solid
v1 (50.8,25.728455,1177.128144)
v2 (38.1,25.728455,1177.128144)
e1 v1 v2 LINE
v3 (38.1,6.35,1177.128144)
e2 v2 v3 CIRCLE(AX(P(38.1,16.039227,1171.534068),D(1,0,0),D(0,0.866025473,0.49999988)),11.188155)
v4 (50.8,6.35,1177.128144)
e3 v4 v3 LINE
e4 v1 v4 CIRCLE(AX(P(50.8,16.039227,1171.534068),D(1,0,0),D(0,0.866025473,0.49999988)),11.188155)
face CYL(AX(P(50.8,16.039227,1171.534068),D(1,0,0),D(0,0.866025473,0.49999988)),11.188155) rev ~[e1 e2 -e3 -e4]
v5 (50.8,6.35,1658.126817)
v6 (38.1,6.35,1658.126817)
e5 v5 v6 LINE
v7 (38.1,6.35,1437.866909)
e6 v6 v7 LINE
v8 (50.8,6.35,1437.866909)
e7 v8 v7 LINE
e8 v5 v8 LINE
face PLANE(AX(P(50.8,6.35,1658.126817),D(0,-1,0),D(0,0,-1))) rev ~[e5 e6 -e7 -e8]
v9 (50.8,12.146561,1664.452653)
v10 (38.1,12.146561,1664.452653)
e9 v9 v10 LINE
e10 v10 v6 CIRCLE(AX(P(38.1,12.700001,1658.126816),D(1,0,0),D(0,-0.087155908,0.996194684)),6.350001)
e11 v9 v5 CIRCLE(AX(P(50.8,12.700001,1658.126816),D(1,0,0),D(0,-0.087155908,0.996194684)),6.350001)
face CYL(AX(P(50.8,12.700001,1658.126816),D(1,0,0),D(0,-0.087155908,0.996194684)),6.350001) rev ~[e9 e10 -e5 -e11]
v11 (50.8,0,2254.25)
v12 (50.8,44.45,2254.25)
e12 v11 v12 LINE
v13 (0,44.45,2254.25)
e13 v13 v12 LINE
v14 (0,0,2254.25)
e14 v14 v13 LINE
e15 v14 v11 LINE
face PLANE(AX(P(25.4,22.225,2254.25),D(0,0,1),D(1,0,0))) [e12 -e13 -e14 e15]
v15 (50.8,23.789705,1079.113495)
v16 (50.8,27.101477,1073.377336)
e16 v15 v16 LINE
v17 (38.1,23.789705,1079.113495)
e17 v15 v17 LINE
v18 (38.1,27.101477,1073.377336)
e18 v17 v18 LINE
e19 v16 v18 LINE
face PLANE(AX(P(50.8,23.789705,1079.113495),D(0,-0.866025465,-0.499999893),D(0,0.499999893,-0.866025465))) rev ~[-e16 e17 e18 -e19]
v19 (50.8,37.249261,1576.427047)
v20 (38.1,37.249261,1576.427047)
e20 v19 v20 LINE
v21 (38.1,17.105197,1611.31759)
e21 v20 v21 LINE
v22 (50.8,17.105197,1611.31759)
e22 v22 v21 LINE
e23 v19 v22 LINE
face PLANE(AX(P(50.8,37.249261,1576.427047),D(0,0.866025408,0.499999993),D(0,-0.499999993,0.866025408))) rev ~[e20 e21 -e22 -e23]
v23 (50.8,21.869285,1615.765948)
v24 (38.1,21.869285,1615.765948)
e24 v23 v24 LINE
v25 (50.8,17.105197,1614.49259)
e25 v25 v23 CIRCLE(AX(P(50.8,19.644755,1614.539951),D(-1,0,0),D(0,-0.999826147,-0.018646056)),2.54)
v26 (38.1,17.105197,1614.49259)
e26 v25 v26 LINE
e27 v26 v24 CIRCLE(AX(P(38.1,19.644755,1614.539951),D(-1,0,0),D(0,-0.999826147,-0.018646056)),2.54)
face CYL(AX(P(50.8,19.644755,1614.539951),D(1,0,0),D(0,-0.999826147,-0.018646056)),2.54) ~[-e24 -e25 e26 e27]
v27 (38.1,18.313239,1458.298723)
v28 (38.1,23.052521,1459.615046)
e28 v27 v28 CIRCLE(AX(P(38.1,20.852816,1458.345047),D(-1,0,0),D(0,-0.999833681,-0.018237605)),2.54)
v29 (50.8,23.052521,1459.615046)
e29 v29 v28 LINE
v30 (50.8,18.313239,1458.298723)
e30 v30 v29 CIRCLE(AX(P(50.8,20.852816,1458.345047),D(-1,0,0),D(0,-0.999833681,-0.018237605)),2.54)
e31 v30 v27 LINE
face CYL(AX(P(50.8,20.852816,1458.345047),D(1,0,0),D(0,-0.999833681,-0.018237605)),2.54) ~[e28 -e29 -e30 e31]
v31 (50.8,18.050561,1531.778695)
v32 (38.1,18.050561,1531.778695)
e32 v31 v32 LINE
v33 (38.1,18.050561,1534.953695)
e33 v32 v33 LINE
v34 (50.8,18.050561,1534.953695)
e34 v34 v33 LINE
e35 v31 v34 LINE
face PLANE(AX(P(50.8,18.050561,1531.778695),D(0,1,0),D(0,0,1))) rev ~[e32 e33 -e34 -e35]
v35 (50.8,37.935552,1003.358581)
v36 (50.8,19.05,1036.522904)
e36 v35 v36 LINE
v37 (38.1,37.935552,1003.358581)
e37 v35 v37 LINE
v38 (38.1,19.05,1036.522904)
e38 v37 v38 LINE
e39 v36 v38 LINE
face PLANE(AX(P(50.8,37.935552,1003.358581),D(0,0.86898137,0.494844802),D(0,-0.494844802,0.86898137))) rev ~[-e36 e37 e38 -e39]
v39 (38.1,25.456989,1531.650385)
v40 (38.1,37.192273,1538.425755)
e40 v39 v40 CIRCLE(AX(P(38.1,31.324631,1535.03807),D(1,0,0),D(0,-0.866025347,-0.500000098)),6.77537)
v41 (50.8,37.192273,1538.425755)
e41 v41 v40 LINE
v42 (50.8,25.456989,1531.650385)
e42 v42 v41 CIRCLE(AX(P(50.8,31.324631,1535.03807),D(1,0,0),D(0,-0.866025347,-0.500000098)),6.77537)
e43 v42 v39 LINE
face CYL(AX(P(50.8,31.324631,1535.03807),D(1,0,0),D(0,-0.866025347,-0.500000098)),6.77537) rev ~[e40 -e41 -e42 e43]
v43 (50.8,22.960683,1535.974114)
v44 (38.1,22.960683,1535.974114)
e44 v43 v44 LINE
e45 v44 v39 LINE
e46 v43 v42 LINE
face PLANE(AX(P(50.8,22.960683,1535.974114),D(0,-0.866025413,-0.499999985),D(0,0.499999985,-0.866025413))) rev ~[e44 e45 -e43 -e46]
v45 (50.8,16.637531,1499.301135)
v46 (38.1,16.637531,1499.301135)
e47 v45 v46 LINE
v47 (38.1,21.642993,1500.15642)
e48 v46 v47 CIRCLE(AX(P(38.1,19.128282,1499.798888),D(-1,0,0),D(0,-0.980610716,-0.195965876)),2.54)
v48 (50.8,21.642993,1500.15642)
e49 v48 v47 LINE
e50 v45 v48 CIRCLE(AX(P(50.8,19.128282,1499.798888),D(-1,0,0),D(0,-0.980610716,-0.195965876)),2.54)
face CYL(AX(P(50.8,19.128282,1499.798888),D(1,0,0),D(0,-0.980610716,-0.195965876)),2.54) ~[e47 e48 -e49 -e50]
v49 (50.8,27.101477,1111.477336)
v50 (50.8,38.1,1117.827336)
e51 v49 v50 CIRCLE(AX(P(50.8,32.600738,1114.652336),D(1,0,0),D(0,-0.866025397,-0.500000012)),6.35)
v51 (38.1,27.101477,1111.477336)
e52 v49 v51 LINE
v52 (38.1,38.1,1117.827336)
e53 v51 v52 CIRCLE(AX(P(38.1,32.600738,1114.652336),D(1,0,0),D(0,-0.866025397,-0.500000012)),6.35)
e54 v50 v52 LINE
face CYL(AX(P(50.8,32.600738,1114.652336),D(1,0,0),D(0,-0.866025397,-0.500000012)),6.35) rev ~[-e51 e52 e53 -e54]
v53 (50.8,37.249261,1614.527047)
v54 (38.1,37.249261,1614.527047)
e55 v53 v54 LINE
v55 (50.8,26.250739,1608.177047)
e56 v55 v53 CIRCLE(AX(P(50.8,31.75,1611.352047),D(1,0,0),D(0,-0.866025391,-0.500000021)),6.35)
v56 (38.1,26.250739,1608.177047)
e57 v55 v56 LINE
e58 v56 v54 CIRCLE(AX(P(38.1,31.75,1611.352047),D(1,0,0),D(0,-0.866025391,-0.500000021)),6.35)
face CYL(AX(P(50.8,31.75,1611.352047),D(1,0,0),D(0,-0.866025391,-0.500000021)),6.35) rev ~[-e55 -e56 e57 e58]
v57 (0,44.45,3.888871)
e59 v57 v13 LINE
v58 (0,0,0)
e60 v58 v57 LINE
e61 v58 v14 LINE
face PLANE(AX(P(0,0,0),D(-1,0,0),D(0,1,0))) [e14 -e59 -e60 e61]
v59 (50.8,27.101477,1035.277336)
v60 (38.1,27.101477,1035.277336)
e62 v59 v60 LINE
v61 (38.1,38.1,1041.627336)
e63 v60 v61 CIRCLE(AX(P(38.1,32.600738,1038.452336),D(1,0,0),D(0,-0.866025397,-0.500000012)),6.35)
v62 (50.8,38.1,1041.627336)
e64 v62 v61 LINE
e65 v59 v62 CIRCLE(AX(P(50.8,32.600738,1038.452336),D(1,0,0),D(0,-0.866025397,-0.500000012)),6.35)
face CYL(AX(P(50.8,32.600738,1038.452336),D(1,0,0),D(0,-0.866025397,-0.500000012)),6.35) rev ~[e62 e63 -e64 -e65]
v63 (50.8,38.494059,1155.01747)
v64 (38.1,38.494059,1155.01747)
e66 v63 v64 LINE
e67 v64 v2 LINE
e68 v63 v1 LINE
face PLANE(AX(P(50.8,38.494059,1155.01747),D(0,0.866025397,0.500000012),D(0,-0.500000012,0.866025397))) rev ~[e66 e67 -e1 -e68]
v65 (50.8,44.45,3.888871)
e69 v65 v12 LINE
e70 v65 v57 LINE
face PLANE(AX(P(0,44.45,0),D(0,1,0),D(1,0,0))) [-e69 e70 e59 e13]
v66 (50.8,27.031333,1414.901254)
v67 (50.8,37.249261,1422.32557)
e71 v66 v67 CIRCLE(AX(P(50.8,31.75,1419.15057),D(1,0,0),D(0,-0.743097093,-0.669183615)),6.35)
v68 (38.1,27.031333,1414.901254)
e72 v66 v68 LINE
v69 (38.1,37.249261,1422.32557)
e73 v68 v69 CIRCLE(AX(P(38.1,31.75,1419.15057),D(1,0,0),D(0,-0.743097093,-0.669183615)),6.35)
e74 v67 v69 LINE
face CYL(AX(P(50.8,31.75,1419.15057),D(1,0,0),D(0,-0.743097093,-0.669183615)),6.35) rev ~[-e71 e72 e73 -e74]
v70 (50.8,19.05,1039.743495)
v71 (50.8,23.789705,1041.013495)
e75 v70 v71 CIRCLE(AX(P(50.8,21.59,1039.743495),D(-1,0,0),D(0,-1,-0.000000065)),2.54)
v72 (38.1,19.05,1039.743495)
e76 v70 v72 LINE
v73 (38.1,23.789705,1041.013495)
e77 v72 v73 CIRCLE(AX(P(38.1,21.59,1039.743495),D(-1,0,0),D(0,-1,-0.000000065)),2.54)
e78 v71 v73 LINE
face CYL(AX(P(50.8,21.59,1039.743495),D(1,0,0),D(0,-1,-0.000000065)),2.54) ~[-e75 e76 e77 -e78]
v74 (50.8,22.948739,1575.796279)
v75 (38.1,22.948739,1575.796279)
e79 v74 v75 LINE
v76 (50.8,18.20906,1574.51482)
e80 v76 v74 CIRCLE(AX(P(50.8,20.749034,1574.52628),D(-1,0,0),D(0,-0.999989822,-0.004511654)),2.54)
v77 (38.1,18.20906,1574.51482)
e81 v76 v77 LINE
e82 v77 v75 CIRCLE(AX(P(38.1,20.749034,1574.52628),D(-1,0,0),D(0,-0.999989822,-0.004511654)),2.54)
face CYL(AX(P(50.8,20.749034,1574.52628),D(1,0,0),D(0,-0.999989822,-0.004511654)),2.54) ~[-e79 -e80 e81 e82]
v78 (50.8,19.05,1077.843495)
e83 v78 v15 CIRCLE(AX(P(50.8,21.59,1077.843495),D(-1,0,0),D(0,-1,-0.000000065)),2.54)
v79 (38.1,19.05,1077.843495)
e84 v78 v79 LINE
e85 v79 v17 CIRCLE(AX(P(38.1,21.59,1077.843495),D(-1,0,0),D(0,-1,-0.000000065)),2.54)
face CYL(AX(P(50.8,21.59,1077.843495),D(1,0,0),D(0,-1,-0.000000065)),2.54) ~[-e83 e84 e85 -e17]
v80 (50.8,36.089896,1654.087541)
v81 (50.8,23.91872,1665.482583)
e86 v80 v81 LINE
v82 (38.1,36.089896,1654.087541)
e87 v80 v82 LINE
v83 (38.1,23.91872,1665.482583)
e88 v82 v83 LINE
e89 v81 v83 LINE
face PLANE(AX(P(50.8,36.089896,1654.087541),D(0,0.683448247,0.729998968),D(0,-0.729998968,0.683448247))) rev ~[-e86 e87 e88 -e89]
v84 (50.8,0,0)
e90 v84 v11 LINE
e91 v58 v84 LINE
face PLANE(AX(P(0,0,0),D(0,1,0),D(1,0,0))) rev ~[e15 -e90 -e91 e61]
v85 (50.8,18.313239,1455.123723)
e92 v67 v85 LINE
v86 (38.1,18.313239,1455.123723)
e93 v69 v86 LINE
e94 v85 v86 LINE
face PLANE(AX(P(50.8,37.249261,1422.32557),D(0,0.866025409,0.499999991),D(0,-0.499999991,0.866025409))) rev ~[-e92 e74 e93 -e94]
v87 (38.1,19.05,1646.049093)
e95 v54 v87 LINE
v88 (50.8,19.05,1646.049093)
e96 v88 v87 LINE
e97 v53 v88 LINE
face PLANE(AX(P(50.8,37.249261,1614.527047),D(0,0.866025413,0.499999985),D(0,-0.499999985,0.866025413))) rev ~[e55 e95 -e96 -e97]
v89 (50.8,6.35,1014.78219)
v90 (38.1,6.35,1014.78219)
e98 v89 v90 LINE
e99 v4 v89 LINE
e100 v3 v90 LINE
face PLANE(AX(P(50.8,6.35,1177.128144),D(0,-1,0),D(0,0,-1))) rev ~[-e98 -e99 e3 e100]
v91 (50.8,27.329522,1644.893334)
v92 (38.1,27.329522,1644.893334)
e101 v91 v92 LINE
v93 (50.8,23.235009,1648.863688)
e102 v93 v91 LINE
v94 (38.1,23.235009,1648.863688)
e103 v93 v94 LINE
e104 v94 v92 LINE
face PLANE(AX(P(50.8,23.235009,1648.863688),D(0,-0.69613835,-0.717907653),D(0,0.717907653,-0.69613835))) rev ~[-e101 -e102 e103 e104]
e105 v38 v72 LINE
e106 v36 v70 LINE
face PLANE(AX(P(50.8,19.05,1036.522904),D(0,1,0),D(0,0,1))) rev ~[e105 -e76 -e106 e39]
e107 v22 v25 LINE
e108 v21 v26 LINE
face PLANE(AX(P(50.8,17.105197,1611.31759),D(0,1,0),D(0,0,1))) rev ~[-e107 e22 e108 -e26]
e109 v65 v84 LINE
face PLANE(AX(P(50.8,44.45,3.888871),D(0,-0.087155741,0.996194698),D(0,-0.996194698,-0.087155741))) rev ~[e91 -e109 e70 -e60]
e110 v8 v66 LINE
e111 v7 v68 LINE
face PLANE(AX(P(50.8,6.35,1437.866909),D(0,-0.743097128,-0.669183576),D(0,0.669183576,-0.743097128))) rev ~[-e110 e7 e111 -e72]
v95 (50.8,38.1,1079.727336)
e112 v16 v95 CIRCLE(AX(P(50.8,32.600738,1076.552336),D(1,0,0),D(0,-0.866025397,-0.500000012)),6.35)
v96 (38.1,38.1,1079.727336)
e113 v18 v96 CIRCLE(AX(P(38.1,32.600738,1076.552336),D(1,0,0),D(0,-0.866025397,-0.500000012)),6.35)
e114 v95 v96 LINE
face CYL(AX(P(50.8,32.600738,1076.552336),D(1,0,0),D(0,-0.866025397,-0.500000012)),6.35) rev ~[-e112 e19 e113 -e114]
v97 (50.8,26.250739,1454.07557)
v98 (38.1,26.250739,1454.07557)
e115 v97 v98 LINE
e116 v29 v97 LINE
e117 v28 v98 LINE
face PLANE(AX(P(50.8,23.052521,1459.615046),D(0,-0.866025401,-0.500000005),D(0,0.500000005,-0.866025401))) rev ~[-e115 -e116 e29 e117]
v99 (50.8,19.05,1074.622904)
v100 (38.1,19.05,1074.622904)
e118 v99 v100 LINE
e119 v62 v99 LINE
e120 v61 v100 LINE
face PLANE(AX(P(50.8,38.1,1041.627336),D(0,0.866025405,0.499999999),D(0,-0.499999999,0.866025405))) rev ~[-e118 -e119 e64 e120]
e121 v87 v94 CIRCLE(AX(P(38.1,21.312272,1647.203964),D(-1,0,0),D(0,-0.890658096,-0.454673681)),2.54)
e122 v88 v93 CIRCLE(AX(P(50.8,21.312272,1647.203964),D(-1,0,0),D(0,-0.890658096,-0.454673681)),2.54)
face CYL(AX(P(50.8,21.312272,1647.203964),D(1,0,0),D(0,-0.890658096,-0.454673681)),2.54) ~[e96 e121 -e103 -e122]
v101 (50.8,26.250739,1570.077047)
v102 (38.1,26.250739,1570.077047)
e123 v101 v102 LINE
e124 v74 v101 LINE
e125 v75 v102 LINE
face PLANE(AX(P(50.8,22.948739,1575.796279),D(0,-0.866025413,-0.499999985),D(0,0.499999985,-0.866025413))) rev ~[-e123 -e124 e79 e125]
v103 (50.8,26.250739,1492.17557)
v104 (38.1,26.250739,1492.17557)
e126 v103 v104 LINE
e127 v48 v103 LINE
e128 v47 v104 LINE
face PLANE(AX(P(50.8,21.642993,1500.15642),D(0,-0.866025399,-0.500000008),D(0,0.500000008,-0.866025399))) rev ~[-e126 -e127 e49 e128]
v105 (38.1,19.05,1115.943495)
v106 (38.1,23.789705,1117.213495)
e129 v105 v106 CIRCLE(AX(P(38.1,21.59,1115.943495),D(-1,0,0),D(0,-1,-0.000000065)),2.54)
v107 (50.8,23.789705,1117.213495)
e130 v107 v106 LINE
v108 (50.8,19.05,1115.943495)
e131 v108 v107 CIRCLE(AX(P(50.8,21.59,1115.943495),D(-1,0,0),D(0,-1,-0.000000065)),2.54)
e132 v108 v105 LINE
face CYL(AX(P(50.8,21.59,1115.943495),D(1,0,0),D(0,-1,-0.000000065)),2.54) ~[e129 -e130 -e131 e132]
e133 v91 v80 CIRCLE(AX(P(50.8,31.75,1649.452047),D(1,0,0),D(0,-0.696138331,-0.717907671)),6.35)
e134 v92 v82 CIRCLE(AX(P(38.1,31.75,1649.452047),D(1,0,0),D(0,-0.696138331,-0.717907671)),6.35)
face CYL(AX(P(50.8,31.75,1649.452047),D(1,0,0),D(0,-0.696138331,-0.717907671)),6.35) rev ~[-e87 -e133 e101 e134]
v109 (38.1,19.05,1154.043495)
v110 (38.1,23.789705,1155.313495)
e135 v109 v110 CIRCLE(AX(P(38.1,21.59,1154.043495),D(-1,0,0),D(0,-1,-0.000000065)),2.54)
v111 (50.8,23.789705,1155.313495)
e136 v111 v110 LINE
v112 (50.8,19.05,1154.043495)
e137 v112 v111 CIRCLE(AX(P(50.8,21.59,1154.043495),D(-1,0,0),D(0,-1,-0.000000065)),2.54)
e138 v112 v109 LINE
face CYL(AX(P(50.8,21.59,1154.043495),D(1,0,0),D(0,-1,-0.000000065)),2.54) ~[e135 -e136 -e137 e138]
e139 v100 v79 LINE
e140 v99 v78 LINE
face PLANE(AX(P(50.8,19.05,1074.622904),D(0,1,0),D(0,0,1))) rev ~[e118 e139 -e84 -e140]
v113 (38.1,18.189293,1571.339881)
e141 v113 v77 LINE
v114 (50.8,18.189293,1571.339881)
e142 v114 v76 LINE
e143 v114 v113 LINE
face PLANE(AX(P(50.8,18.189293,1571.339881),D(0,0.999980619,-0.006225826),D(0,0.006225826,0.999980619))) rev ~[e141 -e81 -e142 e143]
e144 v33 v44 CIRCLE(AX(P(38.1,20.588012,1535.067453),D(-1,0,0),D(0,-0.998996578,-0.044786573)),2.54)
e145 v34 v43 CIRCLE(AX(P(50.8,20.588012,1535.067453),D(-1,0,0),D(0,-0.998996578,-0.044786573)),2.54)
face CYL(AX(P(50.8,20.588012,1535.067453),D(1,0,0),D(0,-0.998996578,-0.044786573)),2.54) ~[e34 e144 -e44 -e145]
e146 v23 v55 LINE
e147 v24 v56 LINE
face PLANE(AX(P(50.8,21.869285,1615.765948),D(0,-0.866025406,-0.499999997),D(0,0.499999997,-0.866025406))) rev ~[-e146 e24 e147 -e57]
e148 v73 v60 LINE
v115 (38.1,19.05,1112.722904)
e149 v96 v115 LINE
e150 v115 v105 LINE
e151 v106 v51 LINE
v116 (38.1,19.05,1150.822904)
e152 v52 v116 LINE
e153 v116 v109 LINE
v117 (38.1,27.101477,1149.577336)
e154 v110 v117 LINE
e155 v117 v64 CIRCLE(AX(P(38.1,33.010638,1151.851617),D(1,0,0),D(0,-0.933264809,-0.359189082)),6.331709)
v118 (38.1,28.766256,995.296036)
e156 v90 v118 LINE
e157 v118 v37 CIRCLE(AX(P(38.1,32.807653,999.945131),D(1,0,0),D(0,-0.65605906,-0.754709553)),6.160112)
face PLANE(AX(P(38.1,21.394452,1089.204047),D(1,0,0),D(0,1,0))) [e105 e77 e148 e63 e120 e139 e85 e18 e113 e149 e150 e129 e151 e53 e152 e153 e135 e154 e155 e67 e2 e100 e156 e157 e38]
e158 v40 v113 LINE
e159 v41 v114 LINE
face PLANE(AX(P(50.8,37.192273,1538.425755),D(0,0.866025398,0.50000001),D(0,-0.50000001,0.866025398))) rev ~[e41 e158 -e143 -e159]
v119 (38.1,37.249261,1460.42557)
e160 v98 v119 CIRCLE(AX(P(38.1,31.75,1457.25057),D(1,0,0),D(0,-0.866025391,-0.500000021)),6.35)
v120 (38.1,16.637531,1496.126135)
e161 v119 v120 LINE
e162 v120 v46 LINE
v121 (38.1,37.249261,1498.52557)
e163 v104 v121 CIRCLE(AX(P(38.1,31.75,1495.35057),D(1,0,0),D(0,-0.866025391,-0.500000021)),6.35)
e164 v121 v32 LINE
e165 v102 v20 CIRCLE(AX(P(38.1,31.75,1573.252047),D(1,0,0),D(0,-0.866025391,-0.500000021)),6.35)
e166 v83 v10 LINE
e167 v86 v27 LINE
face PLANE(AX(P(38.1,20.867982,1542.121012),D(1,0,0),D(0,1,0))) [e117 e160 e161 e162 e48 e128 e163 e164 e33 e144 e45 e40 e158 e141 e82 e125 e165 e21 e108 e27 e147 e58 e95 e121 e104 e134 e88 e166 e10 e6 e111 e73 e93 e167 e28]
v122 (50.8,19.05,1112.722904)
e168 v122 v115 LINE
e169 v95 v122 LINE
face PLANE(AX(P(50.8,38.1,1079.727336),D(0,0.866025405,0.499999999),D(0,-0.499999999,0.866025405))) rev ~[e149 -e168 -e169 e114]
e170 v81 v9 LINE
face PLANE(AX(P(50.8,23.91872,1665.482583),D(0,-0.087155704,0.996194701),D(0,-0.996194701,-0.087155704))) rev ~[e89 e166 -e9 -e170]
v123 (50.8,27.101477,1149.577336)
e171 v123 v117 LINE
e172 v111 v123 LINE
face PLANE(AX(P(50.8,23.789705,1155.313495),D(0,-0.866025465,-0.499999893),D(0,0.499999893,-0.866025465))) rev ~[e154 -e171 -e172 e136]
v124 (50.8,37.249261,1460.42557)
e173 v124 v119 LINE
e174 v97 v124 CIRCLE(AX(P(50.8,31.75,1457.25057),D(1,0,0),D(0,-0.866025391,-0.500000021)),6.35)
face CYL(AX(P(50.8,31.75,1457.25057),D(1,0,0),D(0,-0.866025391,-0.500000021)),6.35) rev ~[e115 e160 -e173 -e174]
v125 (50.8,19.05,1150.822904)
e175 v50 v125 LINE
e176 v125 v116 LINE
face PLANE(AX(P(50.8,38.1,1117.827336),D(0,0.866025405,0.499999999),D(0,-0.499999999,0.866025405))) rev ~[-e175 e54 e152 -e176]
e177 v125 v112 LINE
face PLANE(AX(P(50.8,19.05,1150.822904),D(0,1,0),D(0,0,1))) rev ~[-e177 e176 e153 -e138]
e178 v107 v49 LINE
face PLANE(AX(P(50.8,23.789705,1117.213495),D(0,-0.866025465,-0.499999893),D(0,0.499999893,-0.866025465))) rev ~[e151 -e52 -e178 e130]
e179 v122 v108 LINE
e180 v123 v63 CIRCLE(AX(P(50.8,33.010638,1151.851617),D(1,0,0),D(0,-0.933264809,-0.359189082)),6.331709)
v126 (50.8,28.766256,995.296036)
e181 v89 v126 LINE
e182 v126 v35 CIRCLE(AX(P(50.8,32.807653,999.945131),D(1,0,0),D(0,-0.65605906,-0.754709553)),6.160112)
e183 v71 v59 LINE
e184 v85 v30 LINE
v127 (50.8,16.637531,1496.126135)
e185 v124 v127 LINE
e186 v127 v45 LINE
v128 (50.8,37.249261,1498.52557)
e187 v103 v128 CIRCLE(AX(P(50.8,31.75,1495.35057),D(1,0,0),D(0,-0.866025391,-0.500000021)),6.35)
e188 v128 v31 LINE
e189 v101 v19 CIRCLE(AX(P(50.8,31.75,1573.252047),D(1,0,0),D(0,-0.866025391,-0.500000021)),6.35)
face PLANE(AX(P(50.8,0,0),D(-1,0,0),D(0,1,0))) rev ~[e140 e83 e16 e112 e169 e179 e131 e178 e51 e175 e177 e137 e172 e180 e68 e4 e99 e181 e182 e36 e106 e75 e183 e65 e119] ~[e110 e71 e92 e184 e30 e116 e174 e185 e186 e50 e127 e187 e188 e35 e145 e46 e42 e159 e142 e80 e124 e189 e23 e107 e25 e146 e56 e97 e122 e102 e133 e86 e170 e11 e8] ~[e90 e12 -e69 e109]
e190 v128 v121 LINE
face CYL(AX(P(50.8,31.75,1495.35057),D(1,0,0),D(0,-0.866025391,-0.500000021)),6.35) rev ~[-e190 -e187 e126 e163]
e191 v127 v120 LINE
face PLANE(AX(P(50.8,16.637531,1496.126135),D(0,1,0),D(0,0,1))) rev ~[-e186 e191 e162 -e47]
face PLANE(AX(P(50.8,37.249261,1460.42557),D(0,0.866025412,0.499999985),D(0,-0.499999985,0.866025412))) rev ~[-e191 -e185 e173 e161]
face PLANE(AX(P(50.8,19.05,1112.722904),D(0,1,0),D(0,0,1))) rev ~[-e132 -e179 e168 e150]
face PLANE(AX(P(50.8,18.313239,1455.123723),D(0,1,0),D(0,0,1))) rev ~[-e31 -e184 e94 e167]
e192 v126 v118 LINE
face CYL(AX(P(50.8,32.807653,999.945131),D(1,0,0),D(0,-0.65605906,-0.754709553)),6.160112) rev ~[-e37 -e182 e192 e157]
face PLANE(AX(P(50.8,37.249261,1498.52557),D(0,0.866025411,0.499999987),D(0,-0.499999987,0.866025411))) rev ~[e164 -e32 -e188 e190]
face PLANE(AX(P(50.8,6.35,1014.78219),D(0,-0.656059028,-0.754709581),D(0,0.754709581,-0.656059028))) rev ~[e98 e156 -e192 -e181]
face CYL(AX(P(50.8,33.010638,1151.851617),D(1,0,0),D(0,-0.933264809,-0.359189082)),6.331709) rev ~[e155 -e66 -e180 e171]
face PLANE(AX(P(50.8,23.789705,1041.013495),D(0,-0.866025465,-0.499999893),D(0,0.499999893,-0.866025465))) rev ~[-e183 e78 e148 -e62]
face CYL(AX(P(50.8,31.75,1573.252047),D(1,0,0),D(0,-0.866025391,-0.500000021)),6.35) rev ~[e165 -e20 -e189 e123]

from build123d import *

# Parameters (mm, degrees)
F0_W     = 50.8
F0_H     = 44.45
F1_DEPTH = 2254.25
F3_DEPTH = 101.6
F8_DEPTH = 12.7


with BuildPart() as f1:
    # F0 (on Top) → F1 (new body)
    with BuildSketch(Plane.XY):
        with Locations((25.4, 22.225)):
            Rectangle(F0_W, F0_H)
    extrude(amount=F1_DEPTH)

    # F2 (on face) → F3 (cut)
    with BuildSketch(Plane.YZ.offset(50.8)):
        Polygon((44.45, 3.888871), (0, 0), (44.45, 0), align=None)
    extrude(amount=-F3_DEPTH, mode=Mode.SUBTRACT)

    # F7 (on face) → F8 (cut)
    with BuildSketch(Plane.YZ.offset(50.8)):
        with BuildLine():
            Line((6.35, 1150.822904), (6.35, 1014.78219))
            Line((6.35, 1014.78219), (28.766256, 995.296036))
            ThreePointArc((28.766256, 995.296036), (36.875365, 995.319042), (37.935552, 1003.358581))
            Line((37.935552, 1003.358581), (19.05, 1036.522904))
            Line((19.05, 1036.522904), (19.05, 1039.743495))
            ThreePointArc((19.05, 1039.743495), (20.9326, 1042.196947), (23.789705, 1041.013495))
            Line((23.789705, 1041.013495), (27.101477, 1035.277336))
            ThreePointArc((27.101477, 1035.277336), (35.775739, 1032.953075), (38.1, 1041.627336))
            Line((38.1, 1041.627336), (19.05, 1074.622904))
            Line((19.05, 1074.622904), (19.05, 1077.843495))
            ThreePointArc((19.05, 1077.843495), (20.9326, 1080.296947), (23.789705, 1079.113495))
            Line((23.789705, 1079.113495), (27.101477, 1073.377336))
            ThreePointArc((27.101477, 1073.377336), (35.775739, 1071.053075), (38.1, 1079.727336))
            Line((38.1, 1079.727336), (19.05, 1112.722904))
            Line((19.05, 1112.722904), (19.05, 1115.943495))
            ThreePointArc((19.05, 1115.943495), (20.9326, 1118.396947), (23.789705, 1117.213495))
            Line((23.789705, 1117.213495), (27.101477, 1111.477336))
            ThreePointArc((27.101477, 1111.477336), (35.775739, 1109.153075), (38.1, 1117.827336))
            Line((38.1, 1117.827336), (19.05, 1150.822904))
            Line((19.05, 1150.822904), (19.05, 1154.043495))
            ThreePointArc((19.05, 1154.043495), (20.9326, 1156.496947), (23.789705, 1155.313495))
            Line((23.789705, 1155.313495), (27.101477, 1149.577336))
            ThreePointArc((27.101477, 1149.577336), (35.739022, 1146.137909), (38.494059, 1155.01747))
            Line((38.494059, 1155.01747), (25.728455, 1177.128144))
            ThreePointArc((25.728455, 1177.128144), (16.039228, 1182.722223), (6.35, 1177.128144))
            Line((6.35, 1177.128144), (6.35, 1150.822904))
        make_face()
        with BuildLine():
            ThreePointArc((26.250739, 1492.17557), (34.925, 1489.851309), (37.249261, 1498.52557))
            Line((37.249261, 1498.52557), (18.050561, 1531.778695))
            Line((18.050561, 1531.778695), (18.050561, 1534.953695))
            ThreePointArc((18.050561, 1534.953695), (20.071193, 1537.554318), (22.960683, 1535.974114))
            Line((22.960683, 1535.974114), (25.456989, 1531.650385))
            ThreePointArc((25.456989, 1531.650385), (34.712315, 1529.170428), (37.192273, 1538.425755))
            Line((37.192273, 1538.425755), (18.189293, 1571.339881))
            Line((18.189293, 1571.339881), (18.20906, 1574.51482))
            ThreePointArc((18.20906, 1574.51482), (20.086101, 1576.978242), (22.948739, 1575.796279))
            Line((22.948739, 1575.796279), (26.250739, 1570.077047))
            ThreePointArc((26.250739, 1570.077047), (34.925, 1567.752786), (37.249261, 1576.427047))
            Line((37.249261, 1576.427047), (17.105197, 1611.31759))
            Line((17.105197, 1611.31759), (17.105197, 1614.49259))
            ThreePointArc((17.105197, 1614.49259), (18.988881, 1616.993811), (21.869285, 1615.765948))
            Line((21.869285, 1615.765948), (26.250739, 1608.177047))
            ThreePointArc((26.250739, 1608.177047), (34.925, 1605.852786), (37.249261, 1614.527047))
            Line((37.249261, 1614.527047), (19.05, 1646.049093))
            ThreePointArc((19.05, 1646.049093), (19.894771, 1649.311639), (23.235009, 1648.863688))
            Line((23.235009, 1648.863688), (27.329522, 1644.893334))
            ThreePointArc((27.329522, 1644.893334), (36.34728, 1645.071692), (36.089896, 1654.087541))
            Line((36.089896, 1654.087541), (23.91872, 1665.482583))
            Line((23.91872, 1665.482583), (12.146561, 1664.452653))
            ThreePointArc((12.146561, 1664.452653), (8.018289, 1662.416814), (6.35, 1658.126817))
            Line((6.35, 1658.126817), (6.35, 1437.866909))
            Line((6.35, 1437.866909), (27.031333, 1414.901254))
            ThreePointArc((27.031333, 1414.901254), (35.482619, 1414.013445), (37.249261, 1422.32557))
            Line((37.249261, 1422.32557), (18.313239, 1455.123723))
            Line((18.313239, 1455.123723), (18.313239, 1458.298723))
            ThreePointArc((18.313239, 1458.298723), (20.17307, 1460.792401), (23.052521, 1459.615046))
            Line((23.052521, 1459.615046), (26.250739, 1454.07557))
            ThreePointArc((26.250739, 1454.07557), (34.925, 1451.751309), (37.249261, 1460.42557))
            Line((37.249261, 1460.42557), (16.637531, 1496.126135))
            Line((16.637531, 1496.126135), (16.637531, 1499.301135))
            ThreePointArc((16.637531, 1499.301135), (18.700471, 1502.302601), (21.642993, 1500.15642))
            Line((21.642993, 1500.15642), (26.250739, 1492.17557))
        make_face()
    extrude(amount=-F8_DEPTH, mode=Mode.SUBTRACT)


solid = f1.part
